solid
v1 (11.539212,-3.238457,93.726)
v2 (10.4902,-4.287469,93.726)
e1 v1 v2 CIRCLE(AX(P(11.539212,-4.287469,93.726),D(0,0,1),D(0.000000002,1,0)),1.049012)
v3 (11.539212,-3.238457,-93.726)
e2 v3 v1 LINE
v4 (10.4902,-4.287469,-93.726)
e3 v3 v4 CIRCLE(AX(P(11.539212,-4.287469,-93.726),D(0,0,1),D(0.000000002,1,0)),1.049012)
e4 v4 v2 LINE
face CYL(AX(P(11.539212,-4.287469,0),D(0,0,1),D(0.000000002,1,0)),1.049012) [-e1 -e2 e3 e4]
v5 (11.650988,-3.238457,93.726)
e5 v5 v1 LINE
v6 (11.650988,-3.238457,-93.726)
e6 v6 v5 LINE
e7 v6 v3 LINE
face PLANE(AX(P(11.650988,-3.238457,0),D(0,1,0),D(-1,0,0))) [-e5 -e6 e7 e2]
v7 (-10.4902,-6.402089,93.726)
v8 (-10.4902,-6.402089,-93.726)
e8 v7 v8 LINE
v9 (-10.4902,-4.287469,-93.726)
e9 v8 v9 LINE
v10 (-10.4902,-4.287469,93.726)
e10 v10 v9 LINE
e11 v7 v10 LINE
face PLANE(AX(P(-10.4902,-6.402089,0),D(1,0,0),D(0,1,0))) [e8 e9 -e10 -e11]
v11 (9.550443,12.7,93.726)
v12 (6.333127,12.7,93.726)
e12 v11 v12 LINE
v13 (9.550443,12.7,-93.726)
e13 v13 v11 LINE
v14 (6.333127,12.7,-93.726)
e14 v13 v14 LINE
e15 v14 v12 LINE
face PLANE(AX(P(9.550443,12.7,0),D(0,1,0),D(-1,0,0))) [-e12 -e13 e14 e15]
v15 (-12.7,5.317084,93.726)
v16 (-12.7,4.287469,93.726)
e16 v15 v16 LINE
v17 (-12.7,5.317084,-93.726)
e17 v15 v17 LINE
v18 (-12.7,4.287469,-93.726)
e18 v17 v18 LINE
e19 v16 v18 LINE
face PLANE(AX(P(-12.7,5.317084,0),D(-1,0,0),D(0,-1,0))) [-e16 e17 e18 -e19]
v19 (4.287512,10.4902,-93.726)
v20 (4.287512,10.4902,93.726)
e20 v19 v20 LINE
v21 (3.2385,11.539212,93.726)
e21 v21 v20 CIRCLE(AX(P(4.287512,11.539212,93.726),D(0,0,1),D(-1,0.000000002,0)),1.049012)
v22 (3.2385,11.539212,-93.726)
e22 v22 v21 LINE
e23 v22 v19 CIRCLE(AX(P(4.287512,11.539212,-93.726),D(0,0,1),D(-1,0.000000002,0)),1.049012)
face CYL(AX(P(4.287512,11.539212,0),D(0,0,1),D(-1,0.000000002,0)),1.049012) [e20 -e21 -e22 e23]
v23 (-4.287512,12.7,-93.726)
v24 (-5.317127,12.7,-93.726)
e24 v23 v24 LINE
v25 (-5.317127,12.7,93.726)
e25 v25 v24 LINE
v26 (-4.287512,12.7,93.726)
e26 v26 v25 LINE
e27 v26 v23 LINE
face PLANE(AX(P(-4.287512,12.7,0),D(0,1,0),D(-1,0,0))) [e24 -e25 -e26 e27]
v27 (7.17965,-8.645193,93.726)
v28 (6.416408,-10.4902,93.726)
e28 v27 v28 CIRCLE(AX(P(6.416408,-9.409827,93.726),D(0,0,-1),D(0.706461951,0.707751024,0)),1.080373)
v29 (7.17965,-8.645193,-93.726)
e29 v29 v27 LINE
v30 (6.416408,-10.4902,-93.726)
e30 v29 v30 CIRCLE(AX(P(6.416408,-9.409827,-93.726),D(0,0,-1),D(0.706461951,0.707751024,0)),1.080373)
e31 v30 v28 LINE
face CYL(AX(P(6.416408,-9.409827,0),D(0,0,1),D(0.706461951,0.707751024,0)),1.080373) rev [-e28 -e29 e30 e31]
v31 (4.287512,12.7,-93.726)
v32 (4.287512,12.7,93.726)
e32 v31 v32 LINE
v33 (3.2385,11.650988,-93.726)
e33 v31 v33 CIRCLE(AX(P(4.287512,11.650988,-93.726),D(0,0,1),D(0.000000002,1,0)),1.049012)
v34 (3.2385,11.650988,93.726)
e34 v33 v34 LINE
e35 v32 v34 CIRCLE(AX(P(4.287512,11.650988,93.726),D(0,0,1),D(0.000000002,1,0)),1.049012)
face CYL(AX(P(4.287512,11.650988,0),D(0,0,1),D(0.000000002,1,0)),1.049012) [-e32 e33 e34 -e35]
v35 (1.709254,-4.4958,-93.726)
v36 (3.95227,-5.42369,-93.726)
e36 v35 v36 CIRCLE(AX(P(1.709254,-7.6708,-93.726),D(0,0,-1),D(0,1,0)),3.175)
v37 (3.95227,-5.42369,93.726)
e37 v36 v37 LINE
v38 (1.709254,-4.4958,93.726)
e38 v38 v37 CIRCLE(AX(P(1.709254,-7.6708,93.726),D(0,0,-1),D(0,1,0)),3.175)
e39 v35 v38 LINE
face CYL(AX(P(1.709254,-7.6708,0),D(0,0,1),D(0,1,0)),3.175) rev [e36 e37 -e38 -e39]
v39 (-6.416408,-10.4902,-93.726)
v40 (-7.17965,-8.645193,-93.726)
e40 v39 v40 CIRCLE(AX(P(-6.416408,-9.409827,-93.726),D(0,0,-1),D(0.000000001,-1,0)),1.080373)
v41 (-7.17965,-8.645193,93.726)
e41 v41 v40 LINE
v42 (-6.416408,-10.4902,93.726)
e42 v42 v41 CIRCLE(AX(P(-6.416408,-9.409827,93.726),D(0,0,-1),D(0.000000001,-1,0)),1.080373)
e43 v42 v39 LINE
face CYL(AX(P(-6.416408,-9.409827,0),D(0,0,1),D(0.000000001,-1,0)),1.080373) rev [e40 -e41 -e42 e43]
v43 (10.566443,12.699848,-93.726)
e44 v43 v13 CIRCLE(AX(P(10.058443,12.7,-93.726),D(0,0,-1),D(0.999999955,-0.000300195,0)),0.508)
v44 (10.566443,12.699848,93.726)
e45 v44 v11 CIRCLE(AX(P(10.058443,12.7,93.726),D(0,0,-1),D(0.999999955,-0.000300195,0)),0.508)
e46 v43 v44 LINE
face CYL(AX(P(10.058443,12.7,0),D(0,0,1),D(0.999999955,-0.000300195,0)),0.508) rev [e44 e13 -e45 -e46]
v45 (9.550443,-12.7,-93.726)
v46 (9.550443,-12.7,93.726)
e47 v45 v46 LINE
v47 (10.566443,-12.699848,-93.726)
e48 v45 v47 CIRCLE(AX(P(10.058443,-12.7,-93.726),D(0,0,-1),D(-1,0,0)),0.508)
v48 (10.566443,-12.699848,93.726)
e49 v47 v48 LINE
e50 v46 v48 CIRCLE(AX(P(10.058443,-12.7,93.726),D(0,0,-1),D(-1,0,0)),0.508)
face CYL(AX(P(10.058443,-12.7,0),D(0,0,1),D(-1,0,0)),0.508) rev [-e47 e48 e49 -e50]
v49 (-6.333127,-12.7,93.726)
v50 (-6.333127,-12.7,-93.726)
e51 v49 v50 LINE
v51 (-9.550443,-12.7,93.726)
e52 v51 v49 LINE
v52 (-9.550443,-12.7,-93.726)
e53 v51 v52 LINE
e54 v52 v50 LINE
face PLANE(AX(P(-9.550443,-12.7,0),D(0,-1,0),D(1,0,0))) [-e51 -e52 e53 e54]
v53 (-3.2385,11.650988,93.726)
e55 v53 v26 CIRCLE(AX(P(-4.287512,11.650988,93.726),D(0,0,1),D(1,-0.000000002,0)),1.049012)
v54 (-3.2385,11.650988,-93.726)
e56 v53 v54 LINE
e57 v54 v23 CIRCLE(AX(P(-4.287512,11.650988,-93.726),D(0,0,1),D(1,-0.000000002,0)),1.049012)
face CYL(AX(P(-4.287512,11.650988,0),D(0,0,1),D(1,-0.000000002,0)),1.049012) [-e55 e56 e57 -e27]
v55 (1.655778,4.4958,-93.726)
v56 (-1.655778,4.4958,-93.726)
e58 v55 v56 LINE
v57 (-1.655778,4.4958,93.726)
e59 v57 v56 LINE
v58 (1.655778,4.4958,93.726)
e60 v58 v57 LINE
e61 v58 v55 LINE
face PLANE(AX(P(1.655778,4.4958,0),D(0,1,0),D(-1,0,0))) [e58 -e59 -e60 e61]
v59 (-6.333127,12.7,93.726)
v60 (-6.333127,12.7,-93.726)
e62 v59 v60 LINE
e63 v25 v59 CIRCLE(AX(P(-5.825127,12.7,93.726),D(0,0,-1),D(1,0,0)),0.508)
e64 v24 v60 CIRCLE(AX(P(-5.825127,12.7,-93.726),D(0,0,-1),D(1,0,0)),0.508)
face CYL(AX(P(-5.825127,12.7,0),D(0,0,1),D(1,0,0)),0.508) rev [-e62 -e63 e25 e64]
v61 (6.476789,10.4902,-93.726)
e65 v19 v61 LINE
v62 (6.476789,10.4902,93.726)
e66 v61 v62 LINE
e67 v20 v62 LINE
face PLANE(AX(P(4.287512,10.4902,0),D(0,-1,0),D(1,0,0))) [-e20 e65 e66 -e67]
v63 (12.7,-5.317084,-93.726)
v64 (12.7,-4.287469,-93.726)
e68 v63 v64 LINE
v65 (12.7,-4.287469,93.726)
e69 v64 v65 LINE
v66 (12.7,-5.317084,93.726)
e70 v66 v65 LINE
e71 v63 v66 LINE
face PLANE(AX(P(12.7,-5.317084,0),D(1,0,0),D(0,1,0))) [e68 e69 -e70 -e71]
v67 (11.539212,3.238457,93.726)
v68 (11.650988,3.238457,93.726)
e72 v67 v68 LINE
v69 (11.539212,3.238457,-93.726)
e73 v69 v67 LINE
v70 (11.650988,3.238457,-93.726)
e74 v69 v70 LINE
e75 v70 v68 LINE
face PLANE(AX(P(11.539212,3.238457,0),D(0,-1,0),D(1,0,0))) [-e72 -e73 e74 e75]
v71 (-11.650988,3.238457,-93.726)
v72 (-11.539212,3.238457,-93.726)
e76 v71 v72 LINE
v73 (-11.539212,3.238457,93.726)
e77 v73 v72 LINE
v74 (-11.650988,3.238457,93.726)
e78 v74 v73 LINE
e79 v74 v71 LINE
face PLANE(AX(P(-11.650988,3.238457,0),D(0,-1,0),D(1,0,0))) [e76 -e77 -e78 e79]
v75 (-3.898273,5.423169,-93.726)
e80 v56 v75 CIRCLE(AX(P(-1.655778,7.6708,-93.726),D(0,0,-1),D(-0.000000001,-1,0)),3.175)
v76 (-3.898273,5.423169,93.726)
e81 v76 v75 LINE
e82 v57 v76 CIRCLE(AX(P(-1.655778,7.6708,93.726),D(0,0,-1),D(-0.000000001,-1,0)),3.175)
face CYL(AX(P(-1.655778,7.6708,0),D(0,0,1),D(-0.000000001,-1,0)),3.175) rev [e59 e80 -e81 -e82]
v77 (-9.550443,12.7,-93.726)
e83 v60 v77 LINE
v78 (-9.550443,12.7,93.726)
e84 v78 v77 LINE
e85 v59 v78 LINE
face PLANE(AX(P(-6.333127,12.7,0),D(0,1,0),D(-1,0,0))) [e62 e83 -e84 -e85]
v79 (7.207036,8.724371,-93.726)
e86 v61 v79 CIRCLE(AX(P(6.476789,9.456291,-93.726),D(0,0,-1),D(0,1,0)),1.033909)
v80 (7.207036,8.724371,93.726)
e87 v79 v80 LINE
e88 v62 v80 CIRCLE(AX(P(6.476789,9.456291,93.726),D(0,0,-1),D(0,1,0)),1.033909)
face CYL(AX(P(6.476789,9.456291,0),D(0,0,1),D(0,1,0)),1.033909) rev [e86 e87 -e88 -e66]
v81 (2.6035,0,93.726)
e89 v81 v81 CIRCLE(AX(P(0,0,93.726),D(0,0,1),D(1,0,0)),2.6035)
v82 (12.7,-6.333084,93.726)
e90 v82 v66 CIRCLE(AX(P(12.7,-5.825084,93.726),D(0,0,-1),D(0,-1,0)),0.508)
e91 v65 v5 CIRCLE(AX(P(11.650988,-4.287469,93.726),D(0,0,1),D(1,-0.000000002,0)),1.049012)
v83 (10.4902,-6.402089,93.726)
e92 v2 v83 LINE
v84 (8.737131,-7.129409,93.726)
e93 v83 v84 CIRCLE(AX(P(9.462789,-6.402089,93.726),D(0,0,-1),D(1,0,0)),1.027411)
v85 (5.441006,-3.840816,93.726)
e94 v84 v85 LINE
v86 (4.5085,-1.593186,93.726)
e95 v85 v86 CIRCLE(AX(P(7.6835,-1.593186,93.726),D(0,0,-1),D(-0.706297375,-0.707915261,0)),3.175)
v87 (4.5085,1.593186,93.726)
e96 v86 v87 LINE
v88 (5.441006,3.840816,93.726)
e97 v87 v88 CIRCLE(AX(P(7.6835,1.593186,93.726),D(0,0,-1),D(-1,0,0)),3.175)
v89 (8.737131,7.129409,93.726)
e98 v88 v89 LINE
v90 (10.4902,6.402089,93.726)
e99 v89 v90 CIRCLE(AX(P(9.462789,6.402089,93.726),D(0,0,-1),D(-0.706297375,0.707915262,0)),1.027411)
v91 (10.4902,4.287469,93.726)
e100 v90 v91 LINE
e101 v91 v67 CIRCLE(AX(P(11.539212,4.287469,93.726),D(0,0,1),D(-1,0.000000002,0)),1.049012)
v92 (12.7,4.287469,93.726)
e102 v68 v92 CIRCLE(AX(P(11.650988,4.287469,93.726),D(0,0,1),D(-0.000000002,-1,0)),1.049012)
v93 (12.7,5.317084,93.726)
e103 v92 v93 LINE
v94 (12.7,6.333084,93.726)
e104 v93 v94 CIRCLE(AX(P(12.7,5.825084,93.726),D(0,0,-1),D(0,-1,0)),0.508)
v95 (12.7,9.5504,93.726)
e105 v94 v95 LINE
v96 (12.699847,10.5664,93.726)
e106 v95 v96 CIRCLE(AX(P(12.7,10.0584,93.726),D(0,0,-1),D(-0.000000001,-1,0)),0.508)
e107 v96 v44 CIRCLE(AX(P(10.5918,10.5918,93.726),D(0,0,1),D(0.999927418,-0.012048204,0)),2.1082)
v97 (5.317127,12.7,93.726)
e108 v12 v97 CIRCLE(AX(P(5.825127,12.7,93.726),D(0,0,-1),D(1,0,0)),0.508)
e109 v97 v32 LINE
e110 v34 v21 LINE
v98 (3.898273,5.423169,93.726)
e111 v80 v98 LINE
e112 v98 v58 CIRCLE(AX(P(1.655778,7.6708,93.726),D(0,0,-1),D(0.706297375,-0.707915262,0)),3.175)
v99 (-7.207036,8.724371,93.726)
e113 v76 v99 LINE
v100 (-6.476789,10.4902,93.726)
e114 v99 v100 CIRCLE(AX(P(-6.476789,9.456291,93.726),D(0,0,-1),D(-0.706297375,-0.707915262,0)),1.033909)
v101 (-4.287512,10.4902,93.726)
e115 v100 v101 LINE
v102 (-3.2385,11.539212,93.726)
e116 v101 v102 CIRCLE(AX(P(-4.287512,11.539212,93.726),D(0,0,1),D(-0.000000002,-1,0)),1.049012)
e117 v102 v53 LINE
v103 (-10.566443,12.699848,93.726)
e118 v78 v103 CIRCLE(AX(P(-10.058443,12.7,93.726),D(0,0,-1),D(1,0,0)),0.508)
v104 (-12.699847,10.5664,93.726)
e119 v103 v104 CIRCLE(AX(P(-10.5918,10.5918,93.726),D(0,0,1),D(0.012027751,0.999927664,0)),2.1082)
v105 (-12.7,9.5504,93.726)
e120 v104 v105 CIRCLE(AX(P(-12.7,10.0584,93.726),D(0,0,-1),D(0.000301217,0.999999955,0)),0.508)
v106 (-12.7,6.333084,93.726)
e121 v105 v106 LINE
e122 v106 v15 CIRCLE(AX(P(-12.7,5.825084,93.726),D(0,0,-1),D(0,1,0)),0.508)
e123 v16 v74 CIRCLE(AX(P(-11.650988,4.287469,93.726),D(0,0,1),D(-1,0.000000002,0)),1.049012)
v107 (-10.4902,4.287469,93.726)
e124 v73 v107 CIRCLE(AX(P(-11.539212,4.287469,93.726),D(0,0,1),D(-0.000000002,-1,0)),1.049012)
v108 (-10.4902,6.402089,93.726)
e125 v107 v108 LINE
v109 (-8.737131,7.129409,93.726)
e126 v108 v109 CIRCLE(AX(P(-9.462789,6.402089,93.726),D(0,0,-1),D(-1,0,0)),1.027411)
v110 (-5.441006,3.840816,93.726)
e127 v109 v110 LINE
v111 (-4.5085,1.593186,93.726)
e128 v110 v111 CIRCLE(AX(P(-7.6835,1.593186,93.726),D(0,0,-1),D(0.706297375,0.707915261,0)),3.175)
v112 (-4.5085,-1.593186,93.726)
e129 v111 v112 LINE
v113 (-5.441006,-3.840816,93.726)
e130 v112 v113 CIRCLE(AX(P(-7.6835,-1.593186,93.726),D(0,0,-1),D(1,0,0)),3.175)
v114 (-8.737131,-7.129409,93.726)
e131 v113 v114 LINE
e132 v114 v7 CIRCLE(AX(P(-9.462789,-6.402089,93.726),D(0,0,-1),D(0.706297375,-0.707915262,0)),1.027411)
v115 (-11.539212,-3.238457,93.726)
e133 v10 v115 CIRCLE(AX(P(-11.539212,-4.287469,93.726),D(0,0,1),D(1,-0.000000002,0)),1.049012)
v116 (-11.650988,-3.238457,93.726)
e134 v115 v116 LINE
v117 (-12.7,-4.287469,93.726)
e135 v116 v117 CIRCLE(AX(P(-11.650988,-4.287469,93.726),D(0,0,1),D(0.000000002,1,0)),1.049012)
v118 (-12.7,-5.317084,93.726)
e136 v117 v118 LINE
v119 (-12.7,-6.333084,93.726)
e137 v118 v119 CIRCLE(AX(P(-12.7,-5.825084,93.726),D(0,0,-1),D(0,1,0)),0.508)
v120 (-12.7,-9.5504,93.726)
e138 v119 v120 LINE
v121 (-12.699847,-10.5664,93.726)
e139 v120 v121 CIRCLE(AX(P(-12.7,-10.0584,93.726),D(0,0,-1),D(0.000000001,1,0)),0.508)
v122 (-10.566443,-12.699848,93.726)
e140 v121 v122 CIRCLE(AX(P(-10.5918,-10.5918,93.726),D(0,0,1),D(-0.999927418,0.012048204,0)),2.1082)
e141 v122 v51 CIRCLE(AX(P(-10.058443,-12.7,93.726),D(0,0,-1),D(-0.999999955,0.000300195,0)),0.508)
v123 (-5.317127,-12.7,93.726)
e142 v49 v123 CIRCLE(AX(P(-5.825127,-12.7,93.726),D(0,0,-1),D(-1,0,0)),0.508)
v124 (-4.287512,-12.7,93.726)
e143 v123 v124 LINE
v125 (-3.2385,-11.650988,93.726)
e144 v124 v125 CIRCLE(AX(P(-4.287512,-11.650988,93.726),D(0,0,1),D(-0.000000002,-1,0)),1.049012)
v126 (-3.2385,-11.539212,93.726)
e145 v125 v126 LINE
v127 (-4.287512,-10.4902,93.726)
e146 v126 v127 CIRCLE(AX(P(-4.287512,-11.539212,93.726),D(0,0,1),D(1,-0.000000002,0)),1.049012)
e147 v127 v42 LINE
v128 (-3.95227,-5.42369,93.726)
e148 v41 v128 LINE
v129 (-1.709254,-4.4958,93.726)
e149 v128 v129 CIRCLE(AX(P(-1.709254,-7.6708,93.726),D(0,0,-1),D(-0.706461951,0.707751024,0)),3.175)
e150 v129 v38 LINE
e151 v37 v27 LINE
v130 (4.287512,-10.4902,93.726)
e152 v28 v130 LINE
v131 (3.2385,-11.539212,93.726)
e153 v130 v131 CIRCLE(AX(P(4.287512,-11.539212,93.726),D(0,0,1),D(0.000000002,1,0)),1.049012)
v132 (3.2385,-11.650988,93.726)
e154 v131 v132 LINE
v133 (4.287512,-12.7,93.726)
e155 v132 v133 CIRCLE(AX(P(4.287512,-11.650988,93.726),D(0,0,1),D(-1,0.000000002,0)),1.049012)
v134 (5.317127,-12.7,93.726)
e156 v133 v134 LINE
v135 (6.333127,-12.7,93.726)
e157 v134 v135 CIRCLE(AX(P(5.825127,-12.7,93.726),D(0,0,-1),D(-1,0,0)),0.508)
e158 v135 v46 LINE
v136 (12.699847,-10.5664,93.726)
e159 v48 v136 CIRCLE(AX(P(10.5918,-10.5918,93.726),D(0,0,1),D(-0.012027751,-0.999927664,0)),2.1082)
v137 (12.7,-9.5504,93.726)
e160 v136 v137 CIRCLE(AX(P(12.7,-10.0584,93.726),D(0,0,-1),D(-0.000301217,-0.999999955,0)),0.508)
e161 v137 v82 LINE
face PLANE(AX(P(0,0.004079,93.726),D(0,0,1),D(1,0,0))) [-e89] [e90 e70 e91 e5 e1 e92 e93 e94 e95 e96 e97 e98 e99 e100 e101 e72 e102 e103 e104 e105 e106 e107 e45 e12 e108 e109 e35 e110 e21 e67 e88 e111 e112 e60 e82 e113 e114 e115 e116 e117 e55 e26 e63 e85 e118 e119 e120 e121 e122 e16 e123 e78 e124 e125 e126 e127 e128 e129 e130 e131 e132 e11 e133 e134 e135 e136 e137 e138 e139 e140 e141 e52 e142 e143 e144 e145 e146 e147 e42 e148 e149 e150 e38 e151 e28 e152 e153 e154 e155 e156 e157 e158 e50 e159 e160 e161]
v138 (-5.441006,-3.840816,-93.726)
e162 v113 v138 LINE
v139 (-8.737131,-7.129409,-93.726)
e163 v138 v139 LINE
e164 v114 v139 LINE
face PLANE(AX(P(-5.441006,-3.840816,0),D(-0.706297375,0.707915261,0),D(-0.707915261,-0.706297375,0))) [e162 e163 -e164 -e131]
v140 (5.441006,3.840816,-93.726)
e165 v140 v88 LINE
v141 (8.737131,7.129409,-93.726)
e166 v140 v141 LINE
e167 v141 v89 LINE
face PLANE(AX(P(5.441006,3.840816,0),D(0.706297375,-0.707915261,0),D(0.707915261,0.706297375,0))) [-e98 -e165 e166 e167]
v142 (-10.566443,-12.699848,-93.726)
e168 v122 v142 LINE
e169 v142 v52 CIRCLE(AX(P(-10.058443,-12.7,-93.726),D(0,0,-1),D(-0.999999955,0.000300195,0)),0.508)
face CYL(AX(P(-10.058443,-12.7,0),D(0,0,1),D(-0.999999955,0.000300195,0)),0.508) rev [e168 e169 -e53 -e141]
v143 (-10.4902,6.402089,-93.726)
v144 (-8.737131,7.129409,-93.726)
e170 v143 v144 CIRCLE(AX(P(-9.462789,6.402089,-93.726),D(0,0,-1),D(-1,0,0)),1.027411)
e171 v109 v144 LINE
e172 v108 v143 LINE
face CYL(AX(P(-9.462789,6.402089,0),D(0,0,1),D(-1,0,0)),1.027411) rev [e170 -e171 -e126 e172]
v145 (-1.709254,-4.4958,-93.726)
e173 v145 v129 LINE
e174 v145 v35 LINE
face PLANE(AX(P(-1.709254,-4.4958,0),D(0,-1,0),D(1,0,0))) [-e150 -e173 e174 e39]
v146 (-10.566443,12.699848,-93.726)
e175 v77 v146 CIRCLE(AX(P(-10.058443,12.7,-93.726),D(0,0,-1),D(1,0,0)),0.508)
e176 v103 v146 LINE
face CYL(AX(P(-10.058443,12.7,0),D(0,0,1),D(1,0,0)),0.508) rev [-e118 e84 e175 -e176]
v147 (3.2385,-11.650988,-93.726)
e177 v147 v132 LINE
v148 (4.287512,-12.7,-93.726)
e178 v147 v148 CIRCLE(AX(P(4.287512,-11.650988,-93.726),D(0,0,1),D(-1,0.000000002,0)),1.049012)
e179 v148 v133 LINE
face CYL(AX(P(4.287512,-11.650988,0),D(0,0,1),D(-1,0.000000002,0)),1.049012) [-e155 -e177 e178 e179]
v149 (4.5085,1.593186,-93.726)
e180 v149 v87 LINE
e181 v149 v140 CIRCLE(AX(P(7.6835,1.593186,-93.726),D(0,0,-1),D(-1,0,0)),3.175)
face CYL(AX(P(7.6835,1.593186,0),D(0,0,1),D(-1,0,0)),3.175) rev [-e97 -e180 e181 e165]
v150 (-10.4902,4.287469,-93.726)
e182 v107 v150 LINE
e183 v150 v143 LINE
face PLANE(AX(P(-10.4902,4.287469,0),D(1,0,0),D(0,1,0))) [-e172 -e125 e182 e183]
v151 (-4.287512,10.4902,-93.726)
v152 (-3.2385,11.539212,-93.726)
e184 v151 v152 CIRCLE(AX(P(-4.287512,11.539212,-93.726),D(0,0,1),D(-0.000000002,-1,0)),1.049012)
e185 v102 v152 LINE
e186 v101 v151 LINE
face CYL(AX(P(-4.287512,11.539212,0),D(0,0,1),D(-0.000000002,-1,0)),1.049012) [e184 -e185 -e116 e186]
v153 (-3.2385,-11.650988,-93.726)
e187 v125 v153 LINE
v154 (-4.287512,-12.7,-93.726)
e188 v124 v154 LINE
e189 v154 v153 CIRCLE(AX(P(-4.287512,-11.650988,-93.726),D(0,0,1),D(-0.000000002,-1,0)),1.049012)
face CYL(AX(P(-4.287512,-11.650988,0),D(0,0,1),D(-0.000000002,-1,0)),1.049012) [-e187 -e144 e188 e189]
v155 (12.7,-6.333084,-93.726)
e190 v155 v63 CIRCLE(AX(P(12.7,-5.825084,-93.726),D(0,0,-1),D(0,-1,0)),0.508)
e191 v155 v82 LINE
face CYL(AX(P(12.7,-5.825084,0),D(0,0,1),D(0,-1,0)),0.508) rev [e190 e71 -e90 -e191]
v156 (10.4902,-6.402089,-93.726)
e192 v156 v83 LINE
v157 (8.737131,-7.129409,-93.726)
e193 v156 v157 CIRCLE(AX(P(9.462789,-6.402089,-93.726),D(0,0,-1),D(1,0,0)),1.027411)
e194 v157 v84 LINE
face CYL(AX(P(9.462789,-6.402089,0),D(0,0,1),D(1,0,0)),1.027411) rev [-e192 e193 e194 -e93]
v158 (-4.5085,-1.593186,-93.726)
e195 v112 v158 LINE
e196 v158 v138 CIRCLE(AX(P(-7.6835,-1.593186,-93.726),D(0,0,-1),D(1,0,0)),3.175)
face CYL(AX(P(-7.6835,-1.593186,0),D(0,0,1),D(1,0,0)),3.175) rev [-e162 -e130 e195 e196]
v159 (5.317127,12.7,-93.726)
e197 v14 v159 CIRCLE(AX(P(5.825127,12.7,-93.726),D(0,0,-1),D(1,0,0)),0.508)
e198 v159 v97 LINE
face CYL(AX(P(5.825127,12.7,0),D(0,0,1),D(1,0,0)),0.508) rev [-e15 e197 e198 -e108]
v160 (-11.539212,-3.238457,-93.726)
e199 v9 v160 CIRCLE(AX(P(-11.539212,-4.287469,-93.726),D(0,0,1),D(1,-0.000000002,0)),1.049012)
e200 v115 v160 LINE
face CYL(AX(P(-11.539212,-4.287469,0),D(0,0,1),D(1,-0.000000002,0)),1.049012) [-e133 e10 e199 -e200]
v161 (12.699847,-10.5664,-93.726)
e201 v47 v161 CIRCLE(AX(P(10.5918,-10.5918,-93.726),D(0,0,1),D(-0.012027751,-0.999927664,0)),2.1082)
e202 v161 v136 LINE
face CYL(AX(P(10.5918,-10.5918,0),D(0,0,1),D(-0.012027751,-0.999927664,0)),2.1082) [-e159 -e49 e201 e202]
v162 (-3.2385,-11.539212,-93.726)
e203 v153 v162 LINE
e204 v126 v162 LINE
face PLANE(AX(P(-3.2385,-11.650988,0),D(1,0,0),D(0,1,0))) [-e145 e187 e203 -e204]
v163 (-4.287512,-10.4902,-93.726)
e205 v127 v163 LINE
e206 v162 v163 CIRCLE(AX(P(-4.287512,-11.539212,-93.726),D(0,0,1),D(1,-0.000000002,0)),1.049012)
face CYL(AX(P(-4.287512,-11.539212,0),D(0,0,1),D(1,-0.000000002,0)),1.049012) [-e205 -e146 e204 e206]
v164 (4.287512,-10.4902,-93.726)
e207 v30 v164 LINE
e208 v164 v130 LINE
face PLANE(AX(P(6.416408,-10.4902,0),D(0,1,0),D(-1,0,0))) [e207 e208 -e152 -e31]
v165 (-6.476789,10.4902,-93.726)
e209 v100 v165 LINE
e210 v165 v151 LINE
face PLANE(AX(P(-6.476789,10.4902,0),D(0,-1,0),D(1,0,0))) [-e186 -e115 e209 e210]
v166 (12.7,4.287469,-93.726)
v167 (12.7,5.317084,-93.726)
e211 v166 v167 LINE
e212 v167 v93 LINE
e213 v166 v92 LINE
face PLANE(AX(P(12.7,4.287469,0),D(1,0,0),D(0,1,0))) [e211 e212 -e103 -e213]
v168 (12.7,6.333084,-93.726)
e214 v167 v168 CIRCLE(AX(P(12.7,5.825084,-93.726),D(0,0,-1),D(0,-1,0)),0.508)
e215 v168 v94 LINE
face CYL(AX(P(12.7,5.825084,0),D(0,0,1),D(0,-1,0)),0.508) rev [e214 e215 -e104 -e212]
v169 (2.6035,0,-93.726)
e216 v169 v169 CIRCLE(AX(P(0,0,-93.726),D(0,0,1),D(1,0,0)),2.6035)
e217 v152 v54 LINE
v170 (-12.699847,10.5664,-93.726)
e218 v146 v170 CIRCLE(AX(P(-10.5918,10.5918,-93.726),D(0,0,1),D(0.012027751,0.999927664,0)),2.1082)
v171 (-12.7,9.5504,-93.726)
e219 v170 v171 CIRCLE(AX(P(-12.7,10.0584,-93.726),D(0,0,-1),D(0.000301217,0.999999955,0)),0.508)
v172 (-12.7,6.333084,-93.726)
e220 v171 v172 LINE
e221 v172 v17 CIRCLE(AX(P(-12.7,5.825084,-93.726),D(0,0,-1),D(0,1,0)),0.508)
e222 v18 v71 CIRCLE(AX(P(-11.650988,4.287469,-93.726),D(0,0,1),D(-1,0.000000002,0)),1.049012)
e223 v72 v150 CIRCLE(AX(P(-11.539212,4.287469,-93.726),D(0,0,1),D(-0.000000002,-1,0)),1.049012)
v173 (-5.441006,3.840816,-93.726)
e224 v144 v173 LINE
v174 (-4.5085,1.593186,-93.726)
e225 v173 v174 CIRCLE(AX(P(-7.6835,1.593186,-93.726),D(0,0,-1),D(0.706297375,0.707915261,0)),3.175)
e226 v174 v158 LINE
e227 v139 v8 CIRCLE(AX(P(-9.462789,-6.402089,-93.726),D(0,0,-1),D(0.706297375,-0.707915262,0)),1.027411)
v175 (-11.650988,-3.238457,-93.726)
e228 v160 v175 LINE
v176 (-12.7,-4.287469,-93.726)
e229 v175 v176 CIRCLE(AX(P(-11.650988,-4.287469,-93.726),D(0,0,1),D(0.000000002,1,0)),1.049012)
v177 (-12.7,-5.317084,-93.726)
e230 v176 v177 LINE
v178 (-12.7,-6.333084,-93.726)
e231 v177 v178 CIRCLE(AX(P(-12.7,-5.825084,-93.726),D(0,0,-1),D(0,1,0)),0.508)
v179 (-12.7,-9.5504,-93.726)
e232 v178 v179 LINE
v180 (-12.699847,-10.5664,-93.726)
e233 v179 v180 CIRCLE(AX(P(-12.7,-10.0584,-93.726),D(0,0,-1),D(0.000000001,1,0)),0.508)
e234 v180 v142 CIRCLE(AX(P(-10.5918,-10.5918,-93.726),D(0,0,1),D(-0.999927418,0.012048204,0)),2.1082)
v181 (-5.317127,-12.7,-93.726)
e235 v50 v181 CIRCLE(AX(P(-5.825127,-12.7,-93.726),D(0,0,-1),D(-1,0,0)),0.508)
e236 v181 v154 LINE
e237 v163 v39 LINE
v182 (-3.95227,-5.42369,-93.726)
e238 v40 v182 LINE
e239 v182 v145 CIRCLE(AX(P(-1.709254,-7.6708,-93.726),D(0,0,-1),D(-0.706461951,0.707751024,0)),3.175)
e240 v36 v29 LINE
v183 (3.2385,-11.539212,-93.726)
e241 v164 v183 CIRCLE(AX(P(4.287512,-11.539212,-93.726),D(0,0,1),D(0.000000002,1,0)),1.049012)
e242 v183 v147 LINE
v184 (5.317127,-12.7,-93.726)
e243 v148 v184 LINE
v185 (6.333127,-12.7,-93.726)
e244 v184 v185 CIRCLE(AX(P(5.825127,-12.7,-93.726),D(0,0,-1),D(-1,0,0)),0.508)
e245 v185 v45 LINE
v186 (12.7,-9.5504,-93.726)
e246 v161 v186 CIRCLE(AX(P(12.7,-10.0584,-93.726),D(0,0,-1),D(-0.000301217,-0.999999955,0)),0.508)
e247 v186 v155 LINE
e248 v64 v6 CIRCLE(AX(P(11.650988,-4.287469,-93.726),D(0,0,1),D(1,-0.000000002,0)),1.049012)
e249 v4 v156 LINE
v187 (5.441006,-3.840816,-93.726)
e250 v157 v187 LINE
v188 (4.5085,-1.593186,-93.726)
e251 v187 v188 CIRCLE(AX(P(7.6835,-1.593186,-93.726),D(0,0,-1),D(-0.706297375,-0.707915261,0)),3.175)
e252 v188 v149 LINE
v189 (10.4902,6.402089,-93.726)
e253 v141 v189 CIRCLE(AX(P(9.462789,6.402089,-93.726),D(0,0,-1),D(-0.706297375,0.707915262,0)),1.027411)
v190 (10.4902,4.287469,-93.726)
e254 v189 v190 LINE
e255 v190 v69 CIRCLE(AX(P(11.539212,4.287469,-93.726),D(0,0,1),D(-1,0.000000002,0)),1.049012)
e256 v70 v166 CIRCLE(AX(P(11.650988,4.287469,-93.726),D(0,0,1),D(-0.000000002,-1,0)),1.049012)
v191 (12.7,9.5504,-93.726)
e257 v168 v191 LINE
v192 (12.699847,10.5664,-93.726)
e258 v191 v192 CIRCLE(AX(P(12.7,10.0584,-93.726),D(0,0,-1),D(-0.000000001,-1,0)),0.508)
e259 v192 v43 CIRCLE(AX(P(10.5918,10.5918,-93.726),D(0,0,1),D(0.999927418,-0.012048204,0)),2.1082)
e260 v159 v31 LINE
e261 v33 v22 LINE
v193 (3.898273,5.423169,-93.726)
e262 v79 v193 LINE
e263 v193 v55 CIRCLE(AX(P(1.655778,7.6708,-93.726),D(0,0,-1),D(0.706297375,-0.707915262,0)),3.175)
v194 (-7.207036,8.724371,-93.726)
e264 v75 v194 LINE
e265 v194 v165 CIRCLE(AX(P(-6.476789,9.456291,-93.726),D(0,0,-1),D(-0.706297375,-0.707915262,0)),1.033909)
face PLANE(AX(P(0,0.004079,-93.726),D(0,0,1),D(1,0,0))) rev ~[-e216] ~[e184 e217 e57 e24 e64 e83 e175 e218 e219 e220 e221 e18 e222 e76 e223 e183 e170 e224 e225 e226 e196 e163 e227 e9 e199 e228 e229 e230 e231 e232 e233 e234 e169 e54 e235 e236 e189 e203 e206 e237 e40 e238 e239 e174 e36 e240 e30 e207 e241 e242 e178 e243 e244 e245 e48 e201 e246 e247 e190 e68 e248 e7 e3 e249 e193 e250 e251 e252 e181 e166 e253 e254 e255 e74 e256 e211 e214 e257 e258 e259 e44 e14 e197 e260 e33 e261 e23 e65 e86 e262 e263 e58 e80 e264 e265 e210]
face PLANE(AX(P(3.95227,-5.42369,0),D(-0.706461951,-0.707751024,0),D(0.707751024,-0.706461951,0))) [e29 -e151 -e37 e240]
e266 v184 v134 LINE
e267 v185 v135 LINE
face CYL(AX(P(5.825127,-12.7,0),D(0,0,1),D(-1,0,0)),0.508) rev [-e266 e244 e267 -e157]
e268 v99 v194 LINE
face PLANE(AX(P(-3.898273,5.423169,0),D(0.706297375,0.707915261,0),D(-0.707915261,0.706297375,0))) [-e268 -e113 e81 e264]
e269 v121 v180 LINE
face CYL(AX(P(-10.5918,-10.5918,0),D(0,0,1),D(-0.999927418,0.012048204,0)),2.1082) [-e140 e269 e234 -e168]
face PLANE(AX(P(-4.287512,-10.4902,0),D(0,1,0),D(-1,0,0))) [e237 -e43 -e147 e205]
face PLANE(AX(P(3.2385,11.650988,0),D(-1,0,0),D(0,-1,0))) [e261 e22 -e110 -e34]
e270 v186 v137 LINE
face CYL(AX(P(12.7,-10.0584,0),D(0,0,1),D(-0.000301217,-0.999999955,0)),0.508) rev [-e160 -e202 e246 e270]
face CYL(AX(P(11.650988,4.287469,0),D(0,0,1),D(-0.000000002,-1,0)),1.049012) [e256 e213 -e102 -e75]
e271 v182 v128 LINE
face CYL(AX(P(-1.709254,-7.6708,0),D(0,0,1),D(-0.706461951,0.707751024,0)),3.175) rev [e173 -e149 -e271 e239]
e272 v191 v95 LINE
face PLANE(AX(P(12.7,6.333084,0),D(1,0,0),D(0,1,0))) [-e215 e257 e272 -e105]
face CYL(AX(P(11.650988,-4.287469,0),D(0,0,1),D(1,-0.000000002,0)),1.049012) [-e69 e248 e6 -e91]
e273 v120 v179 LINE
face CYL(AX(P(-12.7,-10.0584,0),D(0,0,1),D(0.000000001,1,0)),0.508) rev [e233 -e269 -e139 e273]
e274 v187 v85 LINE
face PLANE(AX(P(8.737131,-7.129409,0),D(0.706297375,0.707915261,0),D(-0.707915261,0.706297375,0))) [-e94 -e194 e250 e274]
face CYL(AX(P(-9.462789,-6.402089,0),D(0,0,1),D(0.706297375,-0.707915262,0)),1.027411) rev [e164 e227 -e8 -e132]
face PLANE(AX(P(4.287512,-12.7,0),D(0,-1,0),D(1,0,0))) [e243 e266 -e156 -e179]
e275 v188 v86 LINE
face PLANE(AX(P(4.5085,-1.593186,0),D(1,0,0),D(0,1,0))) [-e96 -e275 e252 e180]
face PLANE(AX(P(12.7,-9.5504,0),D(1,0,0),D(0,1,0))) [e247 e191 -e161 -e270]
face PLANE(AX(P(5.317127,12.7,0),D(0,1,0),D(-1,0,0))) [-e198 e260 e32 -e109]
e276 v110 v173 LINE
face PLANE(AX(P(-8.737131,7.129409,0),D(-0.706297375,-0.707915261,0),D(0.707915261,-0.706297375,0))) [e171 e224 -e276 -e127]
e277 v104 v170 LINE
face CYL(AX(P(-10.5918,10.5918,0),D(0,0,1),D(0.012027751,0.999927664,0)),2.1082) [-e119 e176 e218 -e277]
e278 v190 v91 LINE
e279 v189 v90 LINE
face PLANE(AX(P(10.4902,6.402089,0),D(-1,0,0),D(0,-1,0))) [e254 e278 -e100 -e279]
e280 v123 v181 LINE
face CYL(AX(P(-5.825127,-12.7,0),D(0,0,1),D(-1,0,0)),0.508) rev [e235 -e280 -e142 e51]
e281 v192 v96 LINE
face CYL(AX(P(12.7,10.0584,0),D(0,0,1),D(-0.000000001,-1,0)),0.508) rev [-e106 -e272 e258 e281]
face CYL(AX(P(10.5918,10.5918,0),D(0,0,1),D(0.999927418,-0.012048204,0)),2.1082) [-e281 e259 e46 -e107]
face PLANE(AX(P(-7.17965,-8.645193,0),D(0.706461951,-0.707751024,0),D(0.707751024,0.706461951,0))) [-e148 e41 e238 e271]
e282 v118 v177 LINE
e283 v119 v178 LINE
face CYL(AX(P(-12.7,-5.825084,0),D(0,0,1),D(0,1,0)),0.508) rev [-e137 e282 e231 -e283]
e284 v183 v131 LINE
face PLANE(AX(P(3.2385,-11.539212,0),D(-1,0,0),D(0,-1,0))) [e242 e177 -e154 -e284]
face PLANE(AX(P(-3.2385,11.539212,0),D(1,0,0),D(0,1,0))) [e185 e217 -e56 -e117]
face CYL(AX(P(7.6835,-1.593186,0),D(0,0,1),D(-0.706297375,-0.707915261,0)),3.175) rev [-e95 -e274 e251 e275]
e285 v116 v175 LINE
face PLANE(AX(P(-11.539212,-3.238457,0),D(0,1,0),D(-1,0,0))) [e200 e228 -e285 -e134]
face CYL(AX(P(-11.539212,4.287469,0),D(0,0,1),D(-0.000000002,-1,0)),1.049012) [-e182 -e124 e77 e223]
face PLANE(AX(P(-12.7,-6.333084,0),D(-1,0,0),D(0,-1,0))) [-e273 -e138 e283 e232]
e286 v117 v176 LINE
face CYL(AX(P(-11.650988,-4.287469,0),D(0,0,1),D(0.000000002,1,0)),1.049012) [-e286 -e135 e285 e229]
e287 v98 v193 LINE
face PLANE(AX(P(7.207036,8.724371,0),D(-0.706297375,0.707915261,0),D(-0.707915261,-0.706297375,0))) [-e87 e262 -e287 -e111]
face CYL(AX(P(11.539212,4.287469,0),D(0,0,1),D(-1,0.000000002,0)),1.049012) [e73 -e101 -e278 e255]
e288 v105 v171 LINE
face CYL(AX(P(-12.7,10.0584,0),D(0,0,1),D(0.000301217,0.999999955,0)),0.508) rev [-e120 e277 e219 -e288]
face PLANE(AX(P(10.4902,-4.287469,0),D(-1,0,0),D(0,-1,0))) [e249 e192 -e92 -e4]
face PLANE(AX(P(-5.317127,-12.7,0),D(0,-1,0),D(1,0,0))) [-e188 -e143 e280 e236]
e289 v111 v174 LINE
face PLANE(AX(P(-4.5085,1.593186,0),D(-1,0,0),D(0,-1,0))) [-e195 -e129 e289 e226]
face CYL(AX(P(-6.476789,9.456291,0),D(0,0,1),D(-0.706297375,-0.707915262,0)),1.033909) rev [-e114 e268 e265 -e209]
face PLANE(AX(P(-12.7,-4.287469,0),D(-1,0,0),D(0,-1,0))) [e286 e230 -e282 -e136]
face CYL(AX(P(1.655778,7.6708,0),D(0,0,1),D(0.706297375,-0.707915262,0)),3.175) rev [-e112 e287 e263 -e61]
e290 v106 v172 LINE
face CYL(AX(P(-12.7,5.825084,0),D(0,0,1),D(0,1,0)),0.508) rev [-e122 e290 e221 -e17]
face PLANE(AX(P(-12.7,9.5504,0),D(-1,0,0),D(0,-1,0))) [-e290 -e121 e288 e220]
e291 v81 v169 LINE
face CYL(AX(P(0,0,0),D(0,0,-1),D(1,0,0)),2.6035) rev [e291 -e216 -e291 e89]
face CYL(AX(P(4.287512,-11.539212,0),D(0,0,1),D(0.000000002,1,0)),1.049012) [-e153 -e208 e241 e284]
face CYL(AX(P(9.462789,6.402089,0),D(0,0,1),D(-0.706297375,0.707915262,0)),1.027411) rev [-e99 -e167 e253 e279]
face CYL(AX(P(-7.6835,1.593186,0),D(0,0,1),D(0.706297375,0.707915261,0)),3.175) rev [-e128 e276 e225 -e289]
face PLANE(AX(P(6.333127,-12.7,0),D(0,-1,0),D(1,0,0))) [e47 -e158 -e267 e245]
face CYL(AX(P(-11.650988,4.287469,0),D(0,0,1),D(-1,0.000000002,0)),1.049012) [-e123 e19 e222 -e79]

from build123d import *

# Parameters (mm, degrees)
SKETCH1_R           = 2.6035
BOSS_EXTRUDE1_DEPTH = 93.726


with BuildPart() as part:
    # Sketch1 → Boss-Extrude1 (new, symmetric)
    with BuildSketch(Plane.XY):
        with BuildLine():
            Line((-7.179650497, -8.645192506), (-3.952270251, -5.423690499))
            ThreePointArc((-3.952270251, -5.423690499), (-2.922936451, -4.736929036), (-1.709253557, -4.4958))
            Line((-1.709253557, -4.4958), (1.709253557, -4.4958))
            ThreePointArc((1.709253557, -4.4958), (2.922936451, -4.736929036), (3.952270251, -5.423690499))
            Line((3.952270251, -5.423690499), (7.179650497, -8.645192506))
            ThreePointArc((7.179650497, -8.645192506), (7.41473083, -9.822813117), (6.416408329, -10.4902))
            Line((6.416408329, -10.4902), (4.287512407, -10.4902))
            ThreePointArc((4.287512407, -10.4902), (3.54574862, -10.79744862), (3.2385, -11.539212407))
            Line((3.2385, -11.539212407), (3.2385, -11.650987593))
            ThreePointArc((3.2385, -11.650987593), (3.54574862, -12.39275138), (4.287512407, -12.7))
            Line((4.287512407, -12.7), (5.317126718, -12.7))
            ThreePointArc((5.317126718, -12.7), (5.825126718, -12.192), (6.333126718, -12.7))
            Line((6.333126718, -12.7), (9.550443118, -12.7))
            ThreePointArc((9.550443118, -12.7), (10.058366869, -12.192000006), (10.566443095, -12.699847501))
            ThreePointArc((10.566443095, -12.699847501), (12.082537762, -12.08250727), (12.699846982, -10.566399977))
            ThreePointArc((12.699846982, -10.566399977), (12.192000006, -10.058323491), (12.7, -9.5504))
            Line((12.7, -9.5504), (12.7, -6.3330836))
            ThreePointArc((12.7, -6.3330836), (12.192, -5.8250836), (12.7, -5.3170836))
            Line((12.7, -5.3170836), (12.7, -4.287469289))
            ThreePointArc((12.7, -4.287469289), (12.39275138, -3.545705502), (11.650987593, -3.238456882))
            Line((11.650987593, -3.238456882), (11.539212407, -3.238456882))
            ThreePointArc((11.539212407, -3.238456882), (10.79744862, -3.545705502), (10.4902, -4.287469289))
            Line((10.4902, -4.287469289), (10.4902, -6.402089023))
            ThreePointArc((10.4902, -6.402089023), (9.856505071, -7.351067942), (8.737131347, -7.129408934))
            Line((8.737131347, -7.129408934), (5.441005833, -3.840816462))
            ThreePointArc((5.441005833, -3.840816462), (4.750877967, -2.809883091), (4.5085, -1.593185507))
            Line((4.5085, -1.593185507), (4.5085, 1.593185507))
            ThreePointArc((4.5085, 1.593185507), (4.750877967, 2.809883091), (5.441005833, 3.840816462))
            Line((5.441005833, 3.840816462), (8.737131347, 7.129408934))
            ThreePointArc((8.737131347, 7.129408934), (9.856505071, 7.351067942), (10.4902, 6.402089023))
            Line((10.4902, 6.402089023), (10.4902, 4.287469289))
            ThreePointArc((10.4902, 4.287469289), (10.79744862, 3.545705502), (11.539212407, 3.238456882))
            Line((11.539212407, 3.238456882), (11.650987593, 3.238456882))
            ThreePointArc((11.650987593, 3.238456882), (12.39275138, 3.545705502), (12.7, 4.287469289))
            Line((12.7, 4.287469289), (12.7, 5.3170836))
            ThreePointArc((12.7, 5.3170836), (12.192, 5.8250836), (12.7, 6.3330836))
            Line((12.7, 6.3330836), (12.7, 9.5504))
            ThreePointArc((12.7, 9.5504), (12.192000006, 10.058323491), (12.699846982, 10.566399977))
            ThreePointArc((12.699846982, 10.566399977), (12.082537762, 12.08250727), (10.566443095, 12.699847501))
            ThreePointArc((10.566443095, 12.699847501), (10.058366869, 12.192000006), (9.550443118, 12.7))
            Line((9.550443118, 12.7), (6.333126718, 12.7))
            ThreePointArc((6.333126718, 12.7), (5.825126718, 12.192), (5.317126718, 12.7))
            Line((5.317126718, 12.7), (4.287512407, 12.7))
            ThreePointArc((4.287512407, 12.7), (3.54574862, 12.39275138), (3.2385, 11.650987593))
            Line((3.2385, 11.650987593), (3.2385, 11.539212407))
            ThreePointArc((3.2385, 11.539212407), (3.54574862, 10.79744862), (4.287512407, 10.4902))
            Line((4.287512407, 10.4902), (6.476788598, 10.4902))
            ThreePointArc((6.476788598, 10.4902), (7.432222385, 9.85140422), (7.207036008, 8.724370562))
            Line((7.207036008, 8.724370562), (3.898272566, 5.423169045))
            ThreePointArc((3.898272566, 5.423169045), (2.869120213, 4.736787962), (1.655778399, 4.4958))
            Line((1.655778399, 4.4958), (-1.655778399, 4.4958))
            ThreePointArc((-1.655778399, 4.4958), (-2.869120213, 4.736787962), (-3.898272566, 5.423169045))
            Line((-3.898272566, 5.423169045), (-7.207036008, 8.724370562))
            ThreePointArc((-7.207036008, 8.724370562), (-7.432222385, 9.85140422), (-6.476788598, 10.4902))
            Line((-6.476788598, 10.4902), (-4.287512407, 10.4902))
            ThreePointArc((-4.287512407, 10.4902), (-3.54574862, 10.79744862), (-3.2385, 11.539212407))
            Line((-3.2385, 11.539212407), (-3.2385, 11.650987593))
            ThreePointArc((-3.2385, 11.650987593), (-3.54574862, 12.39275138), (-4.287512407, 12.7))
            Line((-4.287512407, 12.7), (-5.317126718, 12.7))
            ThreePointArc((-5.317126718, 12.7), (-5.825126718, 12.192), (-6.333126718, 12.7))
            Line((-6.333126718, 12.7), (-9.550443118, 12.7))
            ThreePointArc((-9.550443118, 12.7), (-10.058366869, 12.192000006), (-10.566443095, 12.699847501))
            ThreePointArc((-10.566443095, 12.699847501), (-12.082537762, 12.08250727), (-12.699846982, 10.566399977))
            ThreePointArc((-12.699846982, 10.566399977), (-12.192000006, 10.058323491), (-12.7, 9.5504))
            Line((-12.7, 9.5504), (-12.7, 6.3330836))
            ThreePointArc((-12.7, 6.3330836), (-12.192, 5.8250836), (-12.7, 5.3170836))
            Line((-12.7, 5.3170836), (-12.7, 4.287469289))
            ThreePointArc((-12.7, 4.287469289), (-12.39275138, 3.545705502), (-11.650987593, 3.238456882))
            Line((-11.650987593, 3.238456882), (-11.539212407, 3.238456882))
            ThreePointArc((-11.539212407, 3.238456882), (-10.79744862, 3.545705502), (-10.4902, 4.287469289))
            Line((-10.4902, 4.287469289), (-10.4902, 6.402089023))
            ThreePointArc((-10.4902, 6.402089023), (-9.856505071, 7.351067942), (-8.737131347, 7.129408934))
            Line((-8.737131347, 7.129408934), (-5.441005833, 3.840816462))
            ThreePointArc((-5.441005833, 3.840816462), (-4.750877967, 2.809883091), (-4.5085, 1.593185507))
            Line((-4.5085, 1.593185507), (-4.5085, -1.593185507))
            ThreePointArc((-4.5085, -1.593185507), (-4.750877967, -2.809883091), (-5.441005833, -3.840816462))
            Line((-5.441005833, -3.840816462), (-8.737131347, -7.129408934))
            ThreePointArc((-8.737131347, -7.129408934), (-9.856505071, -7.351067942), (-10.4902, -6.402089023))
            Line((-10.4902, -6.402089023), (-10.4902, -4.287469289))
            ThreePointArc((-10.4902, -4.287469289), (-10.79744862, -3.545705502), (-11.539212407, -3.238456882))
            Line((-11.539212407, -3.238456882), (-11.650987593, -3.238456882))
            ThreePointArc((-11.650987593, -3.238456882), (-12.39275138, -3.545705502), (-12.7, -4.287469289))
            Line((-12.7, -4.287469289), (-12.7, -5.3170836))
            ThreePointArc((-12.7, -5.3170836), (-12.192, -5.8250836), (-12.7, -6.3330836))
            Line((-12.7, -6.3330836), (-12.7, -9.5504))
            ThreePointArc((-12.7, -9.5504), (-12.192000006, -10.058323491), (-12.699846982, -10.566399977))
            ThreePointArc((-12.699846982, -10.566399977), (-12.082537762, -12.08250727), (-10.566443095, -12.699847501))
            ThreePointArc((-10.566443095, -12.699847501), (-10.058366869, -12.192000006), (-9.550443118, -12.7))
            Line((-9.550443118, -12.7), (-6.333126718, -12.7))
            ThreePointArc((-6.333126718, -12.7), (-5.825126718, -12.192), (-5.317126718, -12.7))
            Line((-5.317126718, -12.7), (-4.287512407, -12.7))
            ThreePointArc((-4.287512407, -12.7), (-3.54574862, -12.39275138), (-3.2385, -11.650987593))
            Line((-3.2385, -11.650987593), (-3.2385, -11.539212407))
            ThreePointArc((-3.2385, -11.539212407), (-3.54574862, -10.79744862), (-4.287512407, -10.4902))
            Line((-4.287512407, -10.4902), (-6.416408329, -10.4902))
            ThreePointArc((-6.416408329, -10.4902), (-7.41473083, -9.822813117), (-7.179650497, -8.645192506))
        make_face()
        Circle(SKETCH1_R, mode=Mode.SUBTRACT)
    extrude(amount=BOSS_EXTRUDE1_DEPTH, both=True)


solid = part.part
